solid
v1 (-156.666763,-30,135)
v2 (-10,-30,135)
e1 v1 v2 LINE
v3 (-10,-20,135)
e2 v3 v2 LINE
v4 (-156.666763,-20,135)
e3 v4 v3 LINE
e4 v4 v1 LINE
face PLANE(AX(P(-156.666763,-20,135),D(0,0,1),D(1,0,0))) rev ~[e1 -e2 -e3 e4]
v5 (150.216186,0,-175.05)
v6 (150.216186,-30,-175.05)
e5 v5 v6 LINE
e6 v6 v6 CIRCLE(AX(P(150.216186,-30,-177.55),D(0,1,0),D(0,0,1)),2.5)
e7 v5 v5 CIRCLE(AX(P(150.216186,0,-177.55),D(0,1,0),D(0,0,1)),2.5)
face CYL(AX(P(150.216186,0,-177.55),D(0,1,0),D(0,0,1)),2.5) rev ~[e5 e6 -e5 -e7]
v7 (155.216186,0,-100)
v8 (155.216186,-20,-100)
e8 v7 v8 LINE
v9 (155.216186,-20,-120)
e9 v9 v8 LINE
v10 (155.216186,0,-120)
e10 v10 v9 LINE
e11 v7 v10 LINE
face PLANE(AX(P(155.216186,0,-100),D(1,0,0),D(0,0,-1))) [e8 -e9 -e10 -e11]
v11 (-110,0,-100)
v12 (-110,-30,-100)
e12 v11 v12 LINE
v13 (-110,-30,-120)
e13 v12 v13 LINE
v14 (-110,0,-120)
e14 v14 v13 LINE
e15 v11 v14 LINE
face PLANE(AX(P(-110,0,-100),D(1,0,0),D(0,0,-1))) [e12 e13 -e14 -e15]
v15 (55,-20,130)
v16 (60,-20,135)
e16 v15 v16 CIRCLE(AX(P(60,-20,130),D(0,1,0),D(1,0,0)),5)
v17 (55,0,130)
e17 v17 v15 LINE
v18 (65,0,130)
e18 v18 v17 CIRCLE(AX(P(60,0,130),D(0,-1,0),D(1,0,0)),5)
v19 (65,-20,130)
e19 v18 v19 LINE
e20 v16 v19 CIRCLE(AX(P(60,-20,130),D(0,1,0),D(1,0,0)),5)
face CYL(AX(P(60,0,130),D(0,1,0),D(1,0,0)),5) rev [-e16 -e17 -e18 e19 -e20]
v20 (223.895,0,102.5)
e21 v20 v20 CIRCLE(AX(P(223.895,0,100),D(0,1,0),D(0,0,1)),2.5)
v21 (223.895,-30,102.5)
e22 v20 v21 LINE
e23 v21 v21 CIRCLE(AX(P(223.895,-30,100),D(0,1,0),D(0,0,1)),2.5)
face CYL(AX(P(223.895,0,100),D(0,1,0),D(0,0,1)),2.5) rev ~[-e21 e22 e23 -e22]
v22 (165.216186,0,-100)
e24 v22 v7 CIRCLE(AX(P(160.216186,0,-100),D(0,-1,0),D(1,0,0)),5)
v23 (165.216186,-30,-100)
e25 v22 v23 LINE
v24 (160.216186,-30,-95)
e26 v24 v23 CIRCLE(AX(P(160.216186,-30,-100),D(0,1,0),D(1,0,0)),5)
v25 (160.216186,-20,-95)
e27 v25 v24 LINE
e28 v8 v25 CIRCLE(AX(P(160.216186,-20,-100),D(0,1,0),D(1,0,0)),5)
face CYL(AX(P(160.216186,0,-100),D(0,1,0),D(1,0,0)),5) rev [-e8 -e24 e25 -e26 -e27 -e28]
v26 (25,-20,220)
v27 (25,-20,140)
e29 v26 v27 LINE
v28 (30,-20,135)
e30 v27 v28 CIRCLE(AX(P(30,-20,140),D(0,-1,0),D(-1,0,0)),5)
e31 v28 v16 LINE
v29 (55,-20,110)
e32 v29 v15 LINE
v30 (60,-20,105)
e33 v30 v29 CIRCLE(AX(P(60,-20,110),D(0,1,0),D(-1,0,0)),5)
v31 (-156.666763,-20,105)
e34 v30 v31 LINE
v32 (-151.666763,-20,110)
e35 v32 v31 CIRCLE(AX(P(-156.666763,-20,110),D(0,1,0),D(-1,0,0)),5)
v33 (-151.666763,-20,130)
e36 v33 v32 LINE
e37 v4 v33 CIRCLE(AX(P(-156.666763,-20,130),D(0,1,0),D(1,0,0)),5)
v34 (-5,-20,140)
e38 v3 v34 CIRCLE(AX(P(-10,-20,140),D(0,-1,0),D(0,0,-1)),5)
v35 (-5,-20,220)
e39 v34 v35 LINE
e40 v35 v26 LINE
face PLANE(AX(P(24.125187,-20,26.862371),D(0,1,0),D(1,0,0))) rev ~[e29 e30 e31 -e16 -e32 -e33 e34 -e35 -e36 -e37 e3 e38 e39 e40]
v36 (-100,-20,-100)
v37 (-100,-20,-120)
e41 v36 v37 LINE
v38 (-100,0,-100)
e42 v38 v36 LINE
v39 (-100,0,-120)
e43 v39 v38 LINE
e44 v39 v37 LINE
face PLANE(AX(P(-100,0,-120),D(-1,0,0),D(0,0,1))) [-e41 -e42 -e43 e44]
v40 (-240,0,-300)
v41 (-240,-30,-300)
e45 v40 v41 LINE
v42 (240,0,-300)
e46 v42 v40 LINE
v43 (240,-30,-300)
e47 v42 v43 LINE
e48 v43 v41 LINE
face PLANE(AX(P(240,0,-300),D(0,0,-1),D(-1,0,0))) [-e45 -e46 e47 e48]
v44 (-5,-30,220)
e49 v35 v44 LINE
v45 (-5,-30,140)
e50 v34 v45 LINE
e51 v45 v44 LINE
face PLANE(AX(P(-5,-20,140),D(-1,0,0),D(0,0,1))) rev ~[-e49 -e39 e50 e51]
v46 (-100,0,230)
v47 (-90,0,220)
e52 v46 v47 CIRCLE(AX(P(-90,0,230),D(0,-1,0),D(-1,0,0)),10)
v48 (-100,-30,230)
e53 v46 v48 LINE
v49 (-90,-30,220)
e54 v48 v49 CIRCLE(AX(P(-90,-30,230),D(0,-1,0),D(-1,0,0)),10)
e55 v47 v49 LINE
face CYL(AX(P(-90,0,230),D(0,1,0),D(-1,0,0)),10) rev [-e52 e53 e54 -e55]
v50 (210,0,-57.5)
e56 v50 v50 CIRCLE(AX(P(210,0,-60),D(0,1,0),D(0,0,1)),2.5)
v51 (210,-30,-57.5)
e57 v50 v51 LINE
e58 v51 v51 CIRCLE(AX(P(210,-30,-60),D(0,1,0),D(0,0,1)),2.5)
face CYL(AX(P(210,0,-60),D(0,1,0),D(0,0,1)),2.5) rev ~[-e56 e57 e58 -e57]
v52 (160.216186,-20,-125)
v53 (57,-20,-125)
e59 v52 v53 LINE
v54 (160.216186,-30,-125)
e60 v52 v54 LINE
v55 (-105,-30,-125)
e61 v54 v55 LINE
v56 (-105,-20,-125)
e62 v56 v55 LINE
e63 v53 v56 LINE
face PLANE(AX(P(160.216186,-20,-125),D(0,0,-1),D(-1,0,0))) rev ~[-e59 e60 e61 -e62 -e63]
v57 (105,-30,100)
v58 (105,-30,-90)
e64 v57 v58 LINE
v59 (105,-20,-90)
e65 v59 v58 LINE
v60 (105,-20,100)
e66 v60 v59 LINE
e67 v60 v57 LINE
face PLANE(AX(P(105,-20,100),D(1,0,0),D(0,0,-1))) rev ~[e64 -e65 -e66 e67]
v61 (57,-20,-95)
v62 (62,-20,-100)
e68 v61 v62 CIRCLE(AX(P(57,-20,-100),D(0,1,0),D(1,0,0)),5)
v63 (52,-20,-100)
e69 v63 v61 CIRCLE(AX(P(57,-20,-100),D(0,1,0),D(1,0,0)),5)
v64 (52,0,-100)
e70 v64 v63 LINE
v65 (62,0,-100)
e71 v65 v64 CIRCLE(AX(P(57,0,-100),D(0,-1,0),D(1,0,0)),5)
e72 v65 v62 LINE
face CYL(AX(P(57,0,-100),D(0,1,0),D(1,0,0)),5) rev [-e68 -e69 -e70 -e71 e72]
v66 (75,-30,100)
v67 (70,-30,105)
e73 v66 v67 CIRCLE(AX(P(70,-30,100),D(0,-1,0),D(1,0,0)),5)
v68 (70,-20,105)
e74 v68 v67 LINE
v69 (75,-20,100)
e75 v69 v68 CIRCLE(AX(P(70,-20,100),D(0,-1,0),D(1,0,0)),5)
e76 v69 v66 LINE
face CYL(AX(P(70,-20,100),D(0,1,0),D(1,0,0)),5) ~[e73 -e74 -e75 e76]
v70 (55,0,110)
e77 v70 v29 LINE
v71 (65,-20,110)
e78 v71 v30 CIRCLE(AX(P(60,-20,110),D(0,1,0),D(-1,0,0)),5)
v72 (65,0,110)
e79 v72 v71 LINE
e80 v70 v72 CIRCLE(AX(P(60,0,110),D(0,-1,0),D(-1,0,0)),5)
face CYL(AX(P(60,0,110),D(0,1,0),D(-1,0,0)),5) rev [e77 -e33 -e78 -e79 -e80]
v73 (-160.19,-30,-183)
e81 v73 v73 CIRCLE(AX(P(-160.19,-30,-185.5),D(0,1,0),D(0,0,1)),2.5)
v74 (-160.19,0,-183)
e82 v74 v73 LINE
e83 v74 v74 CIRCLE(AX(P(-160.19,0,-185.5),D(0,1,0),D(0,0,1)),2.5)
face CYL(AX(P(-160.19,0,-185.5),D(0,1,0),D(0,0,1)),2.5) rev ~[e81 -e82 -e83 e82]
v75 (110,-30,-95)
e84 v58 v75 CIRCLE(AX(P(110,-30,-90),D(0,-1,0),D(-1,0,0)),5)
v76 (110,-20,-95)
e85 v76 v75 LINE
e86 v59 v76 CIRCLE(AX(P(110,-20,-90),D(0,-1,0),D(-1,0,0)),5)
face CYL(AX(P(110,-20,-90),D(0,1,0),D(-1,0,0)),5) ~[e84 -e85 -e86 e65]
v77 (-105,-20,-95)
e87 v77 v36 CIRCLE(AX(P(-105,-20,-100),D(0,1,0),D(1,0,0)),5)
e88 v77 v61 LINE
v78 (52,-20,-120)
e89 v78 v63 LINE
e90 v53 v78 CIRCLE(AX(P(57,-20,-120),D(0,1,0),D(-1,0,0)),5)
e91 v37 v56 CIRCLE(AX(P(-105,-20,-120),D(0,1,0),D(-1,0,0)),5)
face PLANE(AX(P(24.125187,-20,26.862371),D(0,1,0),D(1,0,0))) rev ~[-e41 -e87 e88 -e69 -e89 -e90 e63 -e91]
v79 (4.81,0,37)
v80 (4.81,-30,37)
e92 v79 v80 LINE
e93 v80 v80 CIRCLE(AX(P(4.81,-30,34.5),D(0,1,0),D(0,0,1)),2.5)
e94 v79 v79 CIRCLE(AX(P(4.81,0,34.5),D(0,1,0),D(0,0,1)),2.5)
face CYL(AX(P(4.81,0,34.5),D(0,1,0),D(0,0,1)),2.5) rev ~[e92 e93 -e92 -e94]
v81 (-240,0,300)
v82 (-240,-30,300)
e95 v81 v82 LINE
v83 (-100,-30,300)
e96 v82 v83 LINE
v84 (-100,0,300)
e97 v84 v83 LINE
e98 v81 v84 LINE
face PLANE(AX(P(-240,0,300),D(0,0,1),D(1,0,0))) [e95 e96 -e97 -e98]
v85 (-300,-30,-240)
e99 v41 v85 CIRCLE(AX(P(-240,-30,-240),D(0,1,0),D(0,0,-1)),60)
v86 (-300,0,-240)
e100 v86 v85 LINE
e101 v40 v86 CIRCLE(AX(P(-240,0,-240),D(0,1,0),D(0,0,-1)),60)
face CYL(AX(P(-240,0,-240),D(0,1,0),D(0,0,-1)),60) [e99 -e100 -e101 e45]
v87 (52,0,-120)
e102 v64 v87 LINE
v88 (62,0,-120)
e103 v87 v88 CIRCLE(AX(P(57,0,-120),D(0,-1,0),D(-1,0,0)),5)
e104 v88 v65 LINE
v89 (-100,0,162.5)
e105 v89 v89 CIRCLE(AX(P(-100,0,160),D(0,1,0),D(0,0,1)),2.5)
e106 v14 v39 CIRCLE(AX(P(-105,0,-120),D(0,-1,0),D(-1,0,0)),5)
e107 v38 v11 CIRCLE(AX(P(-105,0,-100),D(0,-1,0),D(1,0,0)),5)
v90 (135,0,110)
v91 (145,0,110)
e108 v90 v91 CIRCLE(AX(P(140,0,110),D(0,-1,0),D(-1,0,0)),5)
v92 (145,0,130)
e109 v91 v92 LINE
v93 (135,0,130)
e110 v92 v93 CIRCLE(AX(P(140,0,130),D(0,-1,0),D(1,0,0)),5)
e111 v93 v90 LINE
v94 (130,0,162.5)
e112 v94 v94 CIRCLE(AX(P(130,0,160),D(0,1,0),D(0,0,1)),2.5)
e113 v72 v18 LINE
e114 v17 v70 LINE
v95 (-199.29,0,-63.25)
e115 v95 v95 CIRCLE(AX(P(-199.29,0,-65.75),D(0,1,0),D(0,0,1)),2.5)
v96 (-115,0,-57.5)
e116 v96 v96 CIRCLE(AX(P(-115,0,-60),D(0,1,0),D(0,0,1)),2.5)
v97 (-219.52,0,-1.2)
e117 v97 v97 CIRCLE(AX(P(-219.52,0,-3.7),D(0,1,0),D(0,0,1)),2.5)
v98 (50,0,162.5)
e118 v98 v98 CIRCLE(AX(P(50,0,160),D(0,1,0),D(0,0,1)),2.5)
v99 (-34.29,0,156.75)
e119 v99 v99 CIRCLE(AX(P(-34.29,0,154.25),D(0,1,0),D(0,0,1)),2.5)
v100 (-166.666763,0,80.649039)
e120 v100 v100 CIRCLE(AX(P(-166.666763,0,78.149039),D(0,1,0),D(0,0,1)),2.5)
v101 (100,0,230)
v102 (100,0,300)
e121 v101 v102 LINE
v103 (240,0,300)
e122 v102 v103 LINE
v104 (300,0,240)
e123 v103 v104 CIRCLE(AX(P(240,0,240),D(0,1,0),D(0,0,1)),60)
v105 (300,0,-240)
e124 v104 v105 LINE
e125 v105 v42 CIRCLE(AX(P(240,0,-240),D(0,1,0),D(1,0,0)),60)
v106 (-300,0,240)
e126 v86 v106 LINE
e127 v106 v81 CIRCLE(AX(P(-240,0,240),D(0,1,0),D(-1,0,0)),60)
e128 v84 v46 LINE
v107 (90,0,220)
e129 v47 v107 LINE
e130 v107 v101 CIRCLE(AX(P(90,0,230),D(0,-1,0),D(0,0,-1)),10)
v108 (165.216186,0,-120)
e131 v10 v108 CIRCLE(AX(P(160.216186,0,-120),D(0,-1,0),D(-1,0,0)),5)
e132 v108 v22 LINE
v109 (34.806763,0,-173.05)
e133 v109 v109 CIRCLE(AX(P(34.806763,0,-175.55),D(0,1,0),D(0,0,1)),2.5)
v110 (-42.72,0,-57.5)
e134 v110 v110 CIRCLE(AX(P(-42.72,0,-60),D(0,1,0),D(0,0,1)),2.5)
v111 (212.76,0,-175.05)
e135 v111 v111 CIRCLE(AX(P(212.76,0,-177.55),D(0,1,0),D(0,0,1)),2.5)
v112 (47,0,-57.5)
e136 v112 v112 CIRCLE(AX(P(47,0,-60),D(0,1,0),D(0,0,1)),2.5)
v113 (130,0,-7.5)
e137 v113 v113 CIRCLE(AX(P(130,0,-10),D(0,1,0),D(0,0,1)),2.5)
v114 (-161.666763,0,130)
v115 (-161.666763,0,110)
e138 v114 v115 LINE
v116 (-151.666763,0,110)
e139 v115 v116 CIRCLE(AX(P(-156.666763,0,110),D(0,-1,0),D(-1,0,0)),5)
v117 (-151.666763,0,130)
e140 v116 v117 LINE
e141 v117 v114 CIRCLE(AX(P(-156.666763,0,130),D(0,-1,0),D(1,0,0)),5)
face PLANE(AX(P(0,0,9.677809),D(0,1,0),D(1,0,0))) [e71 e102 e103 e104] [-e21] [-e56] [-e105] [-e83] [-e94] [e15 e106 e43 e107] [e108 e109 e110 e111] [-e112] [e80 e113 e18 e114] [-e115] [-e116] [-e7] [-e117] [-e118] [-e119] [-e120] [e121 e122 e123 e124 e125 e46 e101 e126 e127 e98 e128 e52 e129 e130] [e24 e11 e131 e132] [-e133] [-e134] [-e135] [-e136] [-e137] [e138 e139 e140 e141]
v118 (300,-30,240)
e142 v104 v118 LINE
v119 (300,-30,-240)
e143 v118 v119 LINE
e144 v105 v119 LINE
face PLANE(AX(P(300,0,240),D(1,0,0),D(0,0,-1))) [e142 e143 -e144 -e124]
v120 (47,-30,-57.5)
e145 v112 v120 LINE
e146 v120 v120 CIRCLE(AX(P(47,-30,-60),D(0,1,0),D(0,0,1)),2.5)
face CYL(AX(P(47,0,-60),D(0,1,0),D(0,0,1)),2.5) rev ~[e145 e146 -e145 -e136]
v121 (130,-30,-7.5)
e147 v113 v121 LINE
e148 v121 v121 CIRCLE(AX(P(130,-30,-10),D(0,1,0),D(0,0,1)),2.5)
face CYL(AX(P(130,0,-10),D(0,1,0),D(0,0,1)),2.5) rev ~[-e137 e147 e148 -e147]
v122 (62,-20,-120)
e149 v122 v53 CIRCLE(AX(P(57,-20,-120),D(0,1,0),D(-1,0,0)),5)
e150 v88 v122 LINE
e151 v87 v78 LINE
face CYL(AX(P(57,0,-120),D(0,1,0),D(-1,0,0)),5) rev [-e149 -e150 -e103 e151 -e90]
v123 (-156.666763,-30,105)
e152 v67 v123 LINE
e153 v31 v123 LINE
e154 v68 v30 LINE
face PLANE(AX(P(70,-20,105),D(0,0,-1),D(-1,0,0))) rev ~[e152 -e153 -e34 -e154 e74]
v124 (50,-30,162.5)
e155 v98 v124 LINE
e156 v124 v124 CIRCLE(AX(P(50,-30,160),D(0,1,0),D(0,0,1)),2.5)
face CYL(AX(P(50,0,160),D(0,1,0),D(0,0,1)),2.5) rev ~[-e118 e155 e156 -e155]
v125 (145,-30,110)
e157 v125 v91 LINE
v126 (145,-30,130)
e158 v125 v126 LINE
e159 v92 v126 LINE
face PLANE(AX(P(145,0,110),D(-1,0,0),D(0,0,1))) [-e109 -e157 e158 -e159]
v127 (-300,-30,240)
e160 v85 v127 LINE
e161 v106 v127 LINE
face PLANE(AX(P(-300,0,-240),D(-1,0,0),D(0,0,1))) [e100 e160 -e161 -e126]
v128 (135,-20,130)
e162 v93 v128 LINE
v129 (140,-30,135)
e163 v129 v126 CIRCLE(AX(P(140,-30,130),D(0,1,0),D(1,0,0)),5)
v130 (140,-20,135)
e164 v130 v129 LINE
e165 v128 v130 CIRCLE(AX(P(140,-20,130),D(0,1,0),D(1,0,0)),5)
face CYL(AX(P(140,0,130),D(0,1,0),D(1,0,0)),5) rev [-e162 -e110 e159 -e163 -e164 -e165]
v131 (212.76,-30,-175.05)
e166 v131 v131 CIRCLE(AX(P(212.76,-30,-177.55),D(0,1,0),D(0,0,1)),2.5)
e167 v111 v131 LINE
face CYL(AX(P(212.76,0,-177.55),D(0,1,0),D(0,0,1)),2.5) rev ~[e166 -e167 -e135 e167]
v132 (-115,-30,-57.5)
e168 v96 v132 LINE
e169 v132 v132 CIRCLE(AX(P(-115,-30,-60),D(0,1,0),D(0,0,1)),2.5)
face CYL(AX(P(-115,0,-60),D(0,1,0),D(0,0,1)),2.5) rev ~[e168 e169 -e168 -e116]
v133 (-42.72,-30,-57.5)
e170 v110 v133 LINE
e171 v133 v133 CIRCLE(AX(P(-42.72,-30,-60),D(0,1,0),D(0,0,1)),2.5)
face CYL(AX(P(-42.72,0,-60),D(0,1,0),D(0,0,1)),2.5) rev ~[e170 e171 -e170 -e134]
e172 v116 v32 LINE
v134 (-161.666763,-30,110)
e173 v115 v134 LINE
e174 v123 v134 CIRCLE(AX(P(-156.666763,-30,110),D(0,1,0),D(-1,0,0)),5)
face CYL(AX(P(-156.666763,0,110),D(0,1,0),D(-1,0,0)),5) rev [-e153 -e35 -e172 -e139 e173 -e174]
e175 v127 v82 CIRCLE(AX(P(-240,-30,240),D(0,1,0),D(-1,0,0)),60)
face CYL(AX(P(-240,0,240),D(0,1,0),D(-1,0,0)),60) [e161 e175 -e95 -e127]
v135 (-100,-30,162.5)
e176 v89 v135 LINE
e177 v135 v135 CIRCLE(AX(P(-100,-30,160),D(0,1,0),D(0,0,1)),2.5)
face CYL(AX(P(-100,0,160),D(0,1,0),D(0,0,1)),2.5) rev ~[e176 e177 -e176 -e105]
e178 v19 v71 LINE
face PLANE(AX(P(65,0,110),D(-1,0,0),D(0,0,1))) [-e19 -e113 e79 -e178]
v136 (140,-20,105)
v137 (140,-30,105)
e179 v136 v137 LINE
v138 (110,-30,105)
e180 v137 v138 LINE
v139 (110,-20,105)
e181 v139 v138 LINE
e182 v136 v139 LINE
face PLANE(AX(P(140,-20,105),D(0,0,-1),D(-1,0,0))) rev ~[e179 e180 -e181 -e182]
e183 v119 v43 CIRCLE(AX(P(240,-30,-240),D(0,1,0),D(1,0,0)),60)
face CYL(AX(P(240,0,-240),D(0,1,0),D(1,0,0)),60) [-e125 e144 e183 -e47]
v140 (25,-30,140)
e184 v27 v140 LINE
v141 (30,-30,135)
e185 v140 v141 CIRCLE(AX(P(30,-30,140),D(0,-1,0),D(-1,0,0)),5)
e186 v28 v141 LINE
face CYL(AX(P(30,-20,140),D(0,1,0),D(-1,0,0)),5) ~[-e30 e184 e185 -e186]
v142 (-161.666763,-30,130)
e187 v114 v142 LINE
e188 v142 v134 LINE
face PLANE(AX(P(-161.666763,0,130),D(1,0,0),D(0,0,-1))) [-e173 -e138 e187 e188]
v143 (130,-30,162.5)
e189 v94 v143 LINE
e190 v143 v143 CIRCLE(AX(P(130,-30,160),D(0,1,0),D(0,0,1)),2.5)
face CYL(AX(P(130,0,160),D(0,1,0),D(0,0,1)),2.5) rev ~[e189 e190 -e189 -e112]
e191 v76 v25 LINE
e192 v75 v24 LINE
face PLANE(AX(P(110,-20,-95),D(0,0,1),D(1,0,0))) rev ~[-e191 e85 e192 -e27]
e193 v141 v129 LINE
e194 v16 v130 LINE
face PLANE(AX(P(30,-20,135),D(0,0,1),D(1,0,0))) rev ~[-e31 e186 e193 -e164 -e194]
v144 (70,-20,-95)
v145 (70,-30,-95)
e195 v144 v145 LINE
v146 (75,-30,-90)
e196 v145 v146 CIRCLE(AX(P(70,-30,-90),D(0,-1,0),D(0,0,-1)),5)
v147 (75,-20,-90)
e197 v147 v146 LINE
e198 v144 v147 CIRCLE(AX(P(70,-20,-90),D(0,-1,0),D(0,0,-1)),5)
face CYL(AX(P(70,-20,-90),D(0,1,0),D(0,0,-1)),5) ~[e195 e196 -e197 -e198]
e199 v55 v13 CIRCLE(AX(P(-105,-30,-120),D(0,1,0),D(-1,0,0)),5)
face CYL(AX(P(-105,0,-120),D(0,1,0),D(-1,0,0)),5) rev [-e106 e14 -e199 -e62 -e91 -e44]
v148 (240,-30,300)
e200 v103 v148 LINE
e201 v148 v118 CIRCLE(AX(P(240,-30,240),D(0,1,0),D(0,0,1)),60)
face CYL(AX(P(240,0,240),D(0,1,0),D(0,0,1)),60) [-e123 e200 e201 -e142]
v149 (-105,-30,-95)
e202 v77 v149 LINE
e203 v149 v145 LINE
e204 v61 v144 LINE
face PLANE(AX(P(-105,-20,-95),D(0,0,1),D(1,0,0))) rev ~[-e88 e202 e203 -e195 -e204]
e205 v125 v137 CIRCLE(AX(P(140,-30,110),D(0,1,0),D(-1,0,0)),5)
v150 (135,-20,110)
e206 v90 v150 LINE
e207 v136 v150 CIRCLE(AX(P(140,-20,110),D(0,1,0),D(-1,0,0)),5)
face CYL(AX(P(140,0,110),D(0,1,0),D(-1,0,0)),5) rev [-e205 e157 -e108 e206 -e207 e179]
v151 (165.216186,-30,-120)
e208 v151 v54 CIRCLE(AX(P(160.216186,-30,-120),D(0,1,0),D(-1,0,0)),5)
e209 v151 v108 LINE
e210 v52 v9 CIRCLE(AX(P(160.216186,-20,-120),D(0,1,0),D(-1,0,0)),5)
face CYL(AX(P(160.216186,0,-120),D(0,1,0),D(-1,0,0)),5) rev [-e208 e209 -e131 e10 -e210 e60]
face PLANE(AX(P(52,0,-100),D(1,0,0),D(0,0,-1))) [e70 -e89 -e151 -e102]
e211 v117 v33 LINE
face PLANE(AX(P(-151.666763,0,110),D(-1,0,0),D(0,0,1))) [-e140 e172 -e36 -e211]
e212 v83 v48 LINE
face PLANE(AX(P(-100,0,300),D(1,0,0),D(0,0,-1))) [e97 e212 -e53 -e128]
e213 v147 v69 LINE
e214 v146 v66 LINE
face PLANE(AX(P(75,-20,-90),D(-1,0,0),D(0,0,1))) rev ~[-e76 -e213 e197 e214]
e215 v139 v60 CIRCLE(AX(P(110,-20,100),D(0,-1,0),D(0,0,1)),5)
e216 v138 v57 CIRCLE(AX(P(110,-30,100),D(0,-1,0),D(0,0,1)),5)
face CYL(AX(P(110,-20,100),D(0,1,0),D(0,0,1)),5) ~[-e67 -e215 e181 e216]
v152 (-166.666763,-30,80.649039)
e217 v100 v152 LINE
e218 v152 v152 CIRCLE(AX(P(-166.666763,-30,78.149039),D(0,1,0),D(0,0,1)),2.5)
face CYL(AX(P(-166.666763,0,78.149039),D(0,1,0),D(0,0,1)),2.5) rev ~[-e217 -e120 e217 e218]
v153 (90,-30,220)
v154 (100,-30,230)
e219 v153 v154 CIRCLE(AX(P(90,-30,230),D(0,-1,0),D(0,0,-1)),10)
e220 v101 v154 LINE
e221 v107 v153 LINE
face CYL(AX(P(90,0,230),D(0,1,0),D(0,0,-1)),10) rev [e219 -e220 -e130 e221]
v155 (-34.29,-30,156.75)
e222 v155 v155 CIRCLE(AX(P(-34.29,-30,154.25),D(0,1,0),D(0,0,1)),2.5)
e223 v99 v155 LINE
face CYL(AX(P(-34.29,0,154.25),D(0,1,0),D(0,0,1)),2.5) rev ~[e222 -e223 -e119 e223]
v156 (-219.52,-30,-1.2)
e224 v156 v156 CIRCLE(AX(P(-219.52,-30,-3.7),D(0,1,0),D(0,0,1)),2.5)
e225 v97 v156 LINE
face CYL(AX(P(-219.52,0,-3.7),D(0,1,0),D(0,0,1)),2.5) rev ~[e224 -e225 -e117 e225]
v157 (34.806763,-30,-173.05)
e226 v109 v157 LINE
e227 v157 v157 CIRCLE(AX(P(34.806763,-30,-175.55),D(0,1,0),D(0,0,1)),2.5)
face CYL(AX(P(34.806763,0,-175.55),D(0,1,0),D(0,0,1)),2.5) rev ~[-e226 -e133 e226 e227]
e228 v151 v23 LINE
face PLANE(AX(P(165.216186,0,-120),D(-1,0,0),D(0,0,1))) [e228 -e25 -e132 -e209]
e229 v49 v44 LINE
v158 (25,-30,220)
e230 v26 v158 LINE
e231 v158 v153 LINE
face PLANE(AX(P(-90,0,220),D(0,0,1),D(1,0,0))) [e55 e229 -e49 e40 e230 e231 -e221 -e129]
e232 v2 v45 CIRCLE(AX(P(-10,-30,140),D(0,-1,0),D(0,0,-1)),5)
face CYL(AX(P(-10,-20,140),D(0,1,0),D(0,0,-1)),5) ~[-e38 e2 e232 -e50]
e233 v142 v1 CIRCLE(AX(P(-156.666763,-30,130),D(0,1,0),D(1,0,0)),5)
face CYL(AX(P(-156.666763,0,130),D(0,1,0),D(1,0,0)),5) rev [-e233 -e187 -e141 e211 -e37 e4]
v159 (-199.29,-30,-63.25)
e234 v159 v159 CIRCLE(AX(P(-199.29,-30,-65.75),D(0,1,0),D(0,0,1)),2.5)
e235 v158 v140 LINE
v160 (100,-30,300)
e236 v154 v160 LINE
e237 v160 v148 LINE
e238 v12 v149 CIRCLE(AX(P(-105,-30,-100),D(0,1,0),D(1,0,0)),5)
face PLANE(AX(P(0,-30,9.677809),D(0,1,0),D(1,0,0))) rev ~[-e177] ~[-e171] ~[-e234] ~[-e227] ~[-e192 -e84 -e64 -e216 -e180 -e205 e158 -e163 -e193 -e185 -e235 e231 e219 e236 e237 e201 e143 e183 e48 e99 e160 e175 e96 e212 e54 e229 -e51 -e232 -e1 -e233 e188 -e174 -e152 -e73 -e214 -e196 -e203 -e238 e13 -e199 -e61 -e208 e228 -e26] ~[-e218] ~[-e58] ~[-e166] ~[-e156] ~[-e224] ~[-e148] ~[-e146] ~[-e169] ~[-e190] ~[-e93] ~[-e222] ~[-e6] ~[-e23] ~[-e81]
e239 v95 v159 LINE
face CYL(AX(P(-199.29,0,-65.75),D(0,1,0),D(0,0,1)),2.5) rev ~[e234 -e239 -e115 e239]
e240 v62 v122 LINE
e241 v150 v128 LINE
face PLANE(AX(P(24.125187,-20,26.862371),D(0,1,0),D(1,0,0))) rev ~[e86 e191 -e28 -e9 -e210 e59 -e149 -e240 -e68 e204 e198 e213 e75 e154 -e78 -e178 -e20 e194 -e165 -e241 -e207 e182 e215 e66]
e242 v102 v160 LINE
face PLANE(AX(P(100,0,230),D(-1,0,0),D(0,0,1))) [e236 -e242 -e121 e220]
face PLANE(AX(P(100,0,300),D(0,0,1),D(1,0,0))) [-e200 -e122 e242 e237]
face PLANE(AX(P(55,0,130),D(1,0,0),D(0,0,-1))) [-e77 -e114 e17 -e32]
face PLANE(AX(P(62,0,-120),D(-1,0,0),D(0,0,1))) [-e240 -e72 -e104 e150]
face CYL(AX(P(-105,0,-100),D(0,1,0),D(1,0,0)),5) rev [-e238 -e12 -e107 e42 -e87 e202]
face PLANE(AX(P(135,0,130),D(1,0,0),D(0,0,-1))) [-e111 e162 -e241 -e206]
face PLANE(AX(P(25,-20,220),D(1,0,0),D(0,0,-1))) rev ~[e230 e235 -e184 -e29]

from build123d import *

# Parameters (mm, degrees)
EXTRUDE_1715_DEPTH     = 30
SKETCH_1780_R          = 2.5
CUT_EXTRUDE_1807_DEPTH = 426.323406363
CUT_EXTRUDE_2500_DEPTH = 426.323406363
CUT_EXTRUDE_START      = 10
CUT_EXTRUDE_3097_DEPTH = 10


with BuildPart() as part:
    # Sketch 1708 → Extrude 1715 (new body)
    with BuildSketch(Plane(origin=(0, 0, 0), x_dir=(1, 0, 0), z_dir=(0, 1, 0))):
        with BuildLine():
            Line((-90, -220), (90, -220))
            ThreePointArc((90, -220), (97.071067812, -222.928932188), (100, -230))
            Line((100, -230), (100, -300))
            Line((100, -300), (240, -300))
            ThreePointArc((240, -300), (282.426406871, -282.426406871), (300, -240))
            Line((300, -240), (300, 240))
            ThreePointArc((300, 240), (282.426406871, 282.426406871), (240, 300))
            Line((240, 300), (-240, 300))
            ThreePointArc((-240, 300), (-282.426406871, 282.426406871), (-300, 240))
            Line((-300, 240), (-300, -240))
            ThreePointArc((-300, -240), (-282.426406871, -282.426406871), (-240, -300))
            Line((-240, -300), (-100, -300))
            Line((-100, -300), (-100, -230))
            ThreePointArc((-100, -230), (-97.071067812, -222.928932188), (-90, -220))
        make_face()
    extrude(amount=-EXTRUDE_1715_DEPTH)

    # Sketch 1780 → Cut-Extrude 1807 (cut, through all)
    with BuildSketch(Plane(origin=(0, 0, 0), x_dir=(1, 0, 0), z_dir=(0, 1, 0))):
        with Locations(Location((-115, 60, 0), (0, 0, 270))):
            Circle(SKETCH_1780_R)
        with Locations(Location((47, 60, 0), (0, 0, 270))):
            Circle(SKETCH_1780_R)
        with Locations(Location((210, 60, 0), (0, 0, 270))):
            Circle(SKETCH_1780_R)
        with Locations(Location((-100, -160, 0), (0, 0, 270))):
            Circle(SKETCH_1780_R)
        with Locations(Location((50, -160, 0), (0, 0, 270))):
            Circle(SKETCH_1780_R)
        with Locations(Location((130, -160, 0), (0, 0, 270))):
            Circle(SKETCH_1780_R)
        with Locations(Location((-42.72, 60, 0), (0, 0, 270))):
            Circle(SKETCH_1780_R)
        with Locations(Location((-199.29, 65.75, 0), (0, 0, 270))):
            Circle(SKETCH_1780_R)
        with Locations(Location((-160.19, 185.5, 0), (0, 0, 270))):
            Circle(SKETCH_1780_R)
        with Locations(Location((34.806763, 175.55, 0), (0, 0, 270))):
            Circle(SKETCH_1780_R)
        with Locations(Location((150.216186, 177.55, 0), (0, 0, 270))):
            Circle(SKETCH_1780_R)
        with Locations(Location((212.76, 177.55, 0), (0, 0, 270))):
            Circle(SKETCH_1780_R)
        with Locations(Location((-166.666763, -78.149039, 0), (0, 0, 270))):
            Circle(SKETCH_1780_R)
        with Locations(Location((-219.52, 3.7, 0), (0, 0, 270))):
            Circle(SKETCH_1780_R)
        with Locations(Location((-34.29, -154.25, 0), (0, 0, 270))):
            Circle(SKETCH_1780_R)
        with Locations(Location((4.81, -34.5, 0), (0, 0, 270))):
            Circle(SKETCH_1780_R)
        with Locations(Location((223.895, -100, 0), (0, 0, 270))):
            Circle(SKETCH_1780_R)
        with Locations(Location((130, 10, 0), (0, 0, 270))):
            Circle(SKETCH_1780_R)
    extrude(amount=-CUT_EXTRUDE_1807_DEPTH, mode=Mode.SUBTRACT)

    # Sketch 1847 → Cut-Extrude 2500 (cut, through all)
    with BuildSketch(Plane(origin=(0, 0, 0), x_dir=(1, 0, 0), z_dir=(0, 1, 0))):
        with BuildLine():
            Line((-100, 120), (-100, 100))
            ThreePointArc((-100, 100), (-105, 95), (-110, 100))
            Line((-110, 100), (-110, 120))
            ThreePointArc((-110, 120), (-105, 125), (-100, 120))
        make_face()
        with BuildLine():
            Line((62, 120), (62, 100))
            ThreePointArc((62, 100), (57, 95), (52, 100))
            Line((52, 100), (52, 120))
            ThreePointArc((52, 120), (57, 125), (62, 120))
        make_face()
        with BuildLine():
            Line((165.216186, 120), (165.216186, 100))
            ThreePointArc((165.216186, 100), (160.216186, 95), (155.216186, 100))
            Line((155.216186, 100), (155.216186, 120))
            ThreePointArc((155.216186, 120), (160.216186, 125), (165.216186, 120))
        make_face()
        with BuildLine():
            Line((-151.666763, -110), (-151.666763, -130))
            ThreePointArc((-151.666763, -130), (-156.666763, -135), (-161.666763, -130))
            Line((-161.666763, -130), (-161.666763, -110))
            ThreePointArc((-161.666763, -110), (-156.666763, -105), (-151.666763, -110))
        make_face()
        with BuildLine():
            Line((65, -110), (65, -130))
            ThreePointArc((65, -130), (60, -135), (55, -130))
            Line((55, -130), (55, -110))
            ThreePointArc((55, -110), (60, -105), (65, -110))
        make_face()
        with BuildLine():
            Line((145, -110), (145, -130))
            ThreePointArc((145, -130), (140, -135), (135, -130))
            Line((135, -130), (135, -110))
            ThreePointArc((135, -110), (140, -105), (145, -110))
        make_face()
    extrude(amount=-CUT_EXTRUDE_2500_DEPTH, mode=Mode.SUBTRACT)

    # Sketch 2558 → Cut-Extrude 3097 (cut)
    with BuildSketch(Plane(origin=(0, -30, 0), x_dir=(1, 0, 0), z_dir=(0, 1, 0)).offset(CUT_EXTRUDE_START)):
        with BuildLine():
            Line((-105, 95), (70, 95))
            ThreePointArc((70, 95), (73.535533906, 93.535533906), (75, 90))
            Line((75, 90), (75, -100))
            ThreePointArc((75, -100), (73.535533906, -103.535533906), (70, -105))
            Line((70, -105), (-156.666763, -105))
            ThreePointArc((-156.666763, -105), (-160.202296906, -106.464466094), (-161.666763, -110))
            Line((-161.666763, -110), (-161.666763, -130))
            ThreePointArc((-161.666763, -130), (-160.202296906, -133.535533906), (-156.666763, -135))
            Line((-156.666763, -135), (-10, -135))
            ThreePointArc((-10, -135), (-6.464466094, -136.464466094), (-5, -140))
            Line((-5, -140), (-5, -220))
            Line((-5, -220), (25, -220))
            Line((25, -220), (25, -140))
            ThreePointArc((25, -140), (26.464466094, -136.464466094), (30, -135))
            Line((30, -135), (140, -135))
            ThreePointArc((140, -135), (143.535533906, -133.535533906), (145, -130))
            Line((145, -130), (145, -110))
            ThreePointArc((145, -110), (143.535533906, -106.464466094), (140, -105))
            Line((140, -105), (110, -105))
            ThreePointArc((110, -105), (106.464466094, -103.535533906), (105, -100))
            Line((105, -100), (105, 90))
            ThreePointArc((105, 90), (106.464466094, 93.535533906), (110, 95))
            Line((110, 95), (160.216186, 95))
            ThreePointArc((160.216186, 95), (163.751719906, 96.464466094), (165.216186, 100))
            Line((165.216186, 100), (165.216186, 120))
            ThreePointArc((165.216186, 120), (163.751719906, 123.535533906), (160.216186, 125))
            Line((160.216186, 125), (-105, 125))
            ThreePointArc((-105, 125), (-108.535533906, 123.535533906), (-110, 120))
            Line((-110, 120), (-110, 100))
            ThreePointArc((-110, 100), (-108.535533906, 96.464466094), (-105, 95))
        make_face()
    extrude(amount=-CUT_EXTRUDE_3097_DEPTH, mode=Mode.SUBTRACT)


solid = part.part
